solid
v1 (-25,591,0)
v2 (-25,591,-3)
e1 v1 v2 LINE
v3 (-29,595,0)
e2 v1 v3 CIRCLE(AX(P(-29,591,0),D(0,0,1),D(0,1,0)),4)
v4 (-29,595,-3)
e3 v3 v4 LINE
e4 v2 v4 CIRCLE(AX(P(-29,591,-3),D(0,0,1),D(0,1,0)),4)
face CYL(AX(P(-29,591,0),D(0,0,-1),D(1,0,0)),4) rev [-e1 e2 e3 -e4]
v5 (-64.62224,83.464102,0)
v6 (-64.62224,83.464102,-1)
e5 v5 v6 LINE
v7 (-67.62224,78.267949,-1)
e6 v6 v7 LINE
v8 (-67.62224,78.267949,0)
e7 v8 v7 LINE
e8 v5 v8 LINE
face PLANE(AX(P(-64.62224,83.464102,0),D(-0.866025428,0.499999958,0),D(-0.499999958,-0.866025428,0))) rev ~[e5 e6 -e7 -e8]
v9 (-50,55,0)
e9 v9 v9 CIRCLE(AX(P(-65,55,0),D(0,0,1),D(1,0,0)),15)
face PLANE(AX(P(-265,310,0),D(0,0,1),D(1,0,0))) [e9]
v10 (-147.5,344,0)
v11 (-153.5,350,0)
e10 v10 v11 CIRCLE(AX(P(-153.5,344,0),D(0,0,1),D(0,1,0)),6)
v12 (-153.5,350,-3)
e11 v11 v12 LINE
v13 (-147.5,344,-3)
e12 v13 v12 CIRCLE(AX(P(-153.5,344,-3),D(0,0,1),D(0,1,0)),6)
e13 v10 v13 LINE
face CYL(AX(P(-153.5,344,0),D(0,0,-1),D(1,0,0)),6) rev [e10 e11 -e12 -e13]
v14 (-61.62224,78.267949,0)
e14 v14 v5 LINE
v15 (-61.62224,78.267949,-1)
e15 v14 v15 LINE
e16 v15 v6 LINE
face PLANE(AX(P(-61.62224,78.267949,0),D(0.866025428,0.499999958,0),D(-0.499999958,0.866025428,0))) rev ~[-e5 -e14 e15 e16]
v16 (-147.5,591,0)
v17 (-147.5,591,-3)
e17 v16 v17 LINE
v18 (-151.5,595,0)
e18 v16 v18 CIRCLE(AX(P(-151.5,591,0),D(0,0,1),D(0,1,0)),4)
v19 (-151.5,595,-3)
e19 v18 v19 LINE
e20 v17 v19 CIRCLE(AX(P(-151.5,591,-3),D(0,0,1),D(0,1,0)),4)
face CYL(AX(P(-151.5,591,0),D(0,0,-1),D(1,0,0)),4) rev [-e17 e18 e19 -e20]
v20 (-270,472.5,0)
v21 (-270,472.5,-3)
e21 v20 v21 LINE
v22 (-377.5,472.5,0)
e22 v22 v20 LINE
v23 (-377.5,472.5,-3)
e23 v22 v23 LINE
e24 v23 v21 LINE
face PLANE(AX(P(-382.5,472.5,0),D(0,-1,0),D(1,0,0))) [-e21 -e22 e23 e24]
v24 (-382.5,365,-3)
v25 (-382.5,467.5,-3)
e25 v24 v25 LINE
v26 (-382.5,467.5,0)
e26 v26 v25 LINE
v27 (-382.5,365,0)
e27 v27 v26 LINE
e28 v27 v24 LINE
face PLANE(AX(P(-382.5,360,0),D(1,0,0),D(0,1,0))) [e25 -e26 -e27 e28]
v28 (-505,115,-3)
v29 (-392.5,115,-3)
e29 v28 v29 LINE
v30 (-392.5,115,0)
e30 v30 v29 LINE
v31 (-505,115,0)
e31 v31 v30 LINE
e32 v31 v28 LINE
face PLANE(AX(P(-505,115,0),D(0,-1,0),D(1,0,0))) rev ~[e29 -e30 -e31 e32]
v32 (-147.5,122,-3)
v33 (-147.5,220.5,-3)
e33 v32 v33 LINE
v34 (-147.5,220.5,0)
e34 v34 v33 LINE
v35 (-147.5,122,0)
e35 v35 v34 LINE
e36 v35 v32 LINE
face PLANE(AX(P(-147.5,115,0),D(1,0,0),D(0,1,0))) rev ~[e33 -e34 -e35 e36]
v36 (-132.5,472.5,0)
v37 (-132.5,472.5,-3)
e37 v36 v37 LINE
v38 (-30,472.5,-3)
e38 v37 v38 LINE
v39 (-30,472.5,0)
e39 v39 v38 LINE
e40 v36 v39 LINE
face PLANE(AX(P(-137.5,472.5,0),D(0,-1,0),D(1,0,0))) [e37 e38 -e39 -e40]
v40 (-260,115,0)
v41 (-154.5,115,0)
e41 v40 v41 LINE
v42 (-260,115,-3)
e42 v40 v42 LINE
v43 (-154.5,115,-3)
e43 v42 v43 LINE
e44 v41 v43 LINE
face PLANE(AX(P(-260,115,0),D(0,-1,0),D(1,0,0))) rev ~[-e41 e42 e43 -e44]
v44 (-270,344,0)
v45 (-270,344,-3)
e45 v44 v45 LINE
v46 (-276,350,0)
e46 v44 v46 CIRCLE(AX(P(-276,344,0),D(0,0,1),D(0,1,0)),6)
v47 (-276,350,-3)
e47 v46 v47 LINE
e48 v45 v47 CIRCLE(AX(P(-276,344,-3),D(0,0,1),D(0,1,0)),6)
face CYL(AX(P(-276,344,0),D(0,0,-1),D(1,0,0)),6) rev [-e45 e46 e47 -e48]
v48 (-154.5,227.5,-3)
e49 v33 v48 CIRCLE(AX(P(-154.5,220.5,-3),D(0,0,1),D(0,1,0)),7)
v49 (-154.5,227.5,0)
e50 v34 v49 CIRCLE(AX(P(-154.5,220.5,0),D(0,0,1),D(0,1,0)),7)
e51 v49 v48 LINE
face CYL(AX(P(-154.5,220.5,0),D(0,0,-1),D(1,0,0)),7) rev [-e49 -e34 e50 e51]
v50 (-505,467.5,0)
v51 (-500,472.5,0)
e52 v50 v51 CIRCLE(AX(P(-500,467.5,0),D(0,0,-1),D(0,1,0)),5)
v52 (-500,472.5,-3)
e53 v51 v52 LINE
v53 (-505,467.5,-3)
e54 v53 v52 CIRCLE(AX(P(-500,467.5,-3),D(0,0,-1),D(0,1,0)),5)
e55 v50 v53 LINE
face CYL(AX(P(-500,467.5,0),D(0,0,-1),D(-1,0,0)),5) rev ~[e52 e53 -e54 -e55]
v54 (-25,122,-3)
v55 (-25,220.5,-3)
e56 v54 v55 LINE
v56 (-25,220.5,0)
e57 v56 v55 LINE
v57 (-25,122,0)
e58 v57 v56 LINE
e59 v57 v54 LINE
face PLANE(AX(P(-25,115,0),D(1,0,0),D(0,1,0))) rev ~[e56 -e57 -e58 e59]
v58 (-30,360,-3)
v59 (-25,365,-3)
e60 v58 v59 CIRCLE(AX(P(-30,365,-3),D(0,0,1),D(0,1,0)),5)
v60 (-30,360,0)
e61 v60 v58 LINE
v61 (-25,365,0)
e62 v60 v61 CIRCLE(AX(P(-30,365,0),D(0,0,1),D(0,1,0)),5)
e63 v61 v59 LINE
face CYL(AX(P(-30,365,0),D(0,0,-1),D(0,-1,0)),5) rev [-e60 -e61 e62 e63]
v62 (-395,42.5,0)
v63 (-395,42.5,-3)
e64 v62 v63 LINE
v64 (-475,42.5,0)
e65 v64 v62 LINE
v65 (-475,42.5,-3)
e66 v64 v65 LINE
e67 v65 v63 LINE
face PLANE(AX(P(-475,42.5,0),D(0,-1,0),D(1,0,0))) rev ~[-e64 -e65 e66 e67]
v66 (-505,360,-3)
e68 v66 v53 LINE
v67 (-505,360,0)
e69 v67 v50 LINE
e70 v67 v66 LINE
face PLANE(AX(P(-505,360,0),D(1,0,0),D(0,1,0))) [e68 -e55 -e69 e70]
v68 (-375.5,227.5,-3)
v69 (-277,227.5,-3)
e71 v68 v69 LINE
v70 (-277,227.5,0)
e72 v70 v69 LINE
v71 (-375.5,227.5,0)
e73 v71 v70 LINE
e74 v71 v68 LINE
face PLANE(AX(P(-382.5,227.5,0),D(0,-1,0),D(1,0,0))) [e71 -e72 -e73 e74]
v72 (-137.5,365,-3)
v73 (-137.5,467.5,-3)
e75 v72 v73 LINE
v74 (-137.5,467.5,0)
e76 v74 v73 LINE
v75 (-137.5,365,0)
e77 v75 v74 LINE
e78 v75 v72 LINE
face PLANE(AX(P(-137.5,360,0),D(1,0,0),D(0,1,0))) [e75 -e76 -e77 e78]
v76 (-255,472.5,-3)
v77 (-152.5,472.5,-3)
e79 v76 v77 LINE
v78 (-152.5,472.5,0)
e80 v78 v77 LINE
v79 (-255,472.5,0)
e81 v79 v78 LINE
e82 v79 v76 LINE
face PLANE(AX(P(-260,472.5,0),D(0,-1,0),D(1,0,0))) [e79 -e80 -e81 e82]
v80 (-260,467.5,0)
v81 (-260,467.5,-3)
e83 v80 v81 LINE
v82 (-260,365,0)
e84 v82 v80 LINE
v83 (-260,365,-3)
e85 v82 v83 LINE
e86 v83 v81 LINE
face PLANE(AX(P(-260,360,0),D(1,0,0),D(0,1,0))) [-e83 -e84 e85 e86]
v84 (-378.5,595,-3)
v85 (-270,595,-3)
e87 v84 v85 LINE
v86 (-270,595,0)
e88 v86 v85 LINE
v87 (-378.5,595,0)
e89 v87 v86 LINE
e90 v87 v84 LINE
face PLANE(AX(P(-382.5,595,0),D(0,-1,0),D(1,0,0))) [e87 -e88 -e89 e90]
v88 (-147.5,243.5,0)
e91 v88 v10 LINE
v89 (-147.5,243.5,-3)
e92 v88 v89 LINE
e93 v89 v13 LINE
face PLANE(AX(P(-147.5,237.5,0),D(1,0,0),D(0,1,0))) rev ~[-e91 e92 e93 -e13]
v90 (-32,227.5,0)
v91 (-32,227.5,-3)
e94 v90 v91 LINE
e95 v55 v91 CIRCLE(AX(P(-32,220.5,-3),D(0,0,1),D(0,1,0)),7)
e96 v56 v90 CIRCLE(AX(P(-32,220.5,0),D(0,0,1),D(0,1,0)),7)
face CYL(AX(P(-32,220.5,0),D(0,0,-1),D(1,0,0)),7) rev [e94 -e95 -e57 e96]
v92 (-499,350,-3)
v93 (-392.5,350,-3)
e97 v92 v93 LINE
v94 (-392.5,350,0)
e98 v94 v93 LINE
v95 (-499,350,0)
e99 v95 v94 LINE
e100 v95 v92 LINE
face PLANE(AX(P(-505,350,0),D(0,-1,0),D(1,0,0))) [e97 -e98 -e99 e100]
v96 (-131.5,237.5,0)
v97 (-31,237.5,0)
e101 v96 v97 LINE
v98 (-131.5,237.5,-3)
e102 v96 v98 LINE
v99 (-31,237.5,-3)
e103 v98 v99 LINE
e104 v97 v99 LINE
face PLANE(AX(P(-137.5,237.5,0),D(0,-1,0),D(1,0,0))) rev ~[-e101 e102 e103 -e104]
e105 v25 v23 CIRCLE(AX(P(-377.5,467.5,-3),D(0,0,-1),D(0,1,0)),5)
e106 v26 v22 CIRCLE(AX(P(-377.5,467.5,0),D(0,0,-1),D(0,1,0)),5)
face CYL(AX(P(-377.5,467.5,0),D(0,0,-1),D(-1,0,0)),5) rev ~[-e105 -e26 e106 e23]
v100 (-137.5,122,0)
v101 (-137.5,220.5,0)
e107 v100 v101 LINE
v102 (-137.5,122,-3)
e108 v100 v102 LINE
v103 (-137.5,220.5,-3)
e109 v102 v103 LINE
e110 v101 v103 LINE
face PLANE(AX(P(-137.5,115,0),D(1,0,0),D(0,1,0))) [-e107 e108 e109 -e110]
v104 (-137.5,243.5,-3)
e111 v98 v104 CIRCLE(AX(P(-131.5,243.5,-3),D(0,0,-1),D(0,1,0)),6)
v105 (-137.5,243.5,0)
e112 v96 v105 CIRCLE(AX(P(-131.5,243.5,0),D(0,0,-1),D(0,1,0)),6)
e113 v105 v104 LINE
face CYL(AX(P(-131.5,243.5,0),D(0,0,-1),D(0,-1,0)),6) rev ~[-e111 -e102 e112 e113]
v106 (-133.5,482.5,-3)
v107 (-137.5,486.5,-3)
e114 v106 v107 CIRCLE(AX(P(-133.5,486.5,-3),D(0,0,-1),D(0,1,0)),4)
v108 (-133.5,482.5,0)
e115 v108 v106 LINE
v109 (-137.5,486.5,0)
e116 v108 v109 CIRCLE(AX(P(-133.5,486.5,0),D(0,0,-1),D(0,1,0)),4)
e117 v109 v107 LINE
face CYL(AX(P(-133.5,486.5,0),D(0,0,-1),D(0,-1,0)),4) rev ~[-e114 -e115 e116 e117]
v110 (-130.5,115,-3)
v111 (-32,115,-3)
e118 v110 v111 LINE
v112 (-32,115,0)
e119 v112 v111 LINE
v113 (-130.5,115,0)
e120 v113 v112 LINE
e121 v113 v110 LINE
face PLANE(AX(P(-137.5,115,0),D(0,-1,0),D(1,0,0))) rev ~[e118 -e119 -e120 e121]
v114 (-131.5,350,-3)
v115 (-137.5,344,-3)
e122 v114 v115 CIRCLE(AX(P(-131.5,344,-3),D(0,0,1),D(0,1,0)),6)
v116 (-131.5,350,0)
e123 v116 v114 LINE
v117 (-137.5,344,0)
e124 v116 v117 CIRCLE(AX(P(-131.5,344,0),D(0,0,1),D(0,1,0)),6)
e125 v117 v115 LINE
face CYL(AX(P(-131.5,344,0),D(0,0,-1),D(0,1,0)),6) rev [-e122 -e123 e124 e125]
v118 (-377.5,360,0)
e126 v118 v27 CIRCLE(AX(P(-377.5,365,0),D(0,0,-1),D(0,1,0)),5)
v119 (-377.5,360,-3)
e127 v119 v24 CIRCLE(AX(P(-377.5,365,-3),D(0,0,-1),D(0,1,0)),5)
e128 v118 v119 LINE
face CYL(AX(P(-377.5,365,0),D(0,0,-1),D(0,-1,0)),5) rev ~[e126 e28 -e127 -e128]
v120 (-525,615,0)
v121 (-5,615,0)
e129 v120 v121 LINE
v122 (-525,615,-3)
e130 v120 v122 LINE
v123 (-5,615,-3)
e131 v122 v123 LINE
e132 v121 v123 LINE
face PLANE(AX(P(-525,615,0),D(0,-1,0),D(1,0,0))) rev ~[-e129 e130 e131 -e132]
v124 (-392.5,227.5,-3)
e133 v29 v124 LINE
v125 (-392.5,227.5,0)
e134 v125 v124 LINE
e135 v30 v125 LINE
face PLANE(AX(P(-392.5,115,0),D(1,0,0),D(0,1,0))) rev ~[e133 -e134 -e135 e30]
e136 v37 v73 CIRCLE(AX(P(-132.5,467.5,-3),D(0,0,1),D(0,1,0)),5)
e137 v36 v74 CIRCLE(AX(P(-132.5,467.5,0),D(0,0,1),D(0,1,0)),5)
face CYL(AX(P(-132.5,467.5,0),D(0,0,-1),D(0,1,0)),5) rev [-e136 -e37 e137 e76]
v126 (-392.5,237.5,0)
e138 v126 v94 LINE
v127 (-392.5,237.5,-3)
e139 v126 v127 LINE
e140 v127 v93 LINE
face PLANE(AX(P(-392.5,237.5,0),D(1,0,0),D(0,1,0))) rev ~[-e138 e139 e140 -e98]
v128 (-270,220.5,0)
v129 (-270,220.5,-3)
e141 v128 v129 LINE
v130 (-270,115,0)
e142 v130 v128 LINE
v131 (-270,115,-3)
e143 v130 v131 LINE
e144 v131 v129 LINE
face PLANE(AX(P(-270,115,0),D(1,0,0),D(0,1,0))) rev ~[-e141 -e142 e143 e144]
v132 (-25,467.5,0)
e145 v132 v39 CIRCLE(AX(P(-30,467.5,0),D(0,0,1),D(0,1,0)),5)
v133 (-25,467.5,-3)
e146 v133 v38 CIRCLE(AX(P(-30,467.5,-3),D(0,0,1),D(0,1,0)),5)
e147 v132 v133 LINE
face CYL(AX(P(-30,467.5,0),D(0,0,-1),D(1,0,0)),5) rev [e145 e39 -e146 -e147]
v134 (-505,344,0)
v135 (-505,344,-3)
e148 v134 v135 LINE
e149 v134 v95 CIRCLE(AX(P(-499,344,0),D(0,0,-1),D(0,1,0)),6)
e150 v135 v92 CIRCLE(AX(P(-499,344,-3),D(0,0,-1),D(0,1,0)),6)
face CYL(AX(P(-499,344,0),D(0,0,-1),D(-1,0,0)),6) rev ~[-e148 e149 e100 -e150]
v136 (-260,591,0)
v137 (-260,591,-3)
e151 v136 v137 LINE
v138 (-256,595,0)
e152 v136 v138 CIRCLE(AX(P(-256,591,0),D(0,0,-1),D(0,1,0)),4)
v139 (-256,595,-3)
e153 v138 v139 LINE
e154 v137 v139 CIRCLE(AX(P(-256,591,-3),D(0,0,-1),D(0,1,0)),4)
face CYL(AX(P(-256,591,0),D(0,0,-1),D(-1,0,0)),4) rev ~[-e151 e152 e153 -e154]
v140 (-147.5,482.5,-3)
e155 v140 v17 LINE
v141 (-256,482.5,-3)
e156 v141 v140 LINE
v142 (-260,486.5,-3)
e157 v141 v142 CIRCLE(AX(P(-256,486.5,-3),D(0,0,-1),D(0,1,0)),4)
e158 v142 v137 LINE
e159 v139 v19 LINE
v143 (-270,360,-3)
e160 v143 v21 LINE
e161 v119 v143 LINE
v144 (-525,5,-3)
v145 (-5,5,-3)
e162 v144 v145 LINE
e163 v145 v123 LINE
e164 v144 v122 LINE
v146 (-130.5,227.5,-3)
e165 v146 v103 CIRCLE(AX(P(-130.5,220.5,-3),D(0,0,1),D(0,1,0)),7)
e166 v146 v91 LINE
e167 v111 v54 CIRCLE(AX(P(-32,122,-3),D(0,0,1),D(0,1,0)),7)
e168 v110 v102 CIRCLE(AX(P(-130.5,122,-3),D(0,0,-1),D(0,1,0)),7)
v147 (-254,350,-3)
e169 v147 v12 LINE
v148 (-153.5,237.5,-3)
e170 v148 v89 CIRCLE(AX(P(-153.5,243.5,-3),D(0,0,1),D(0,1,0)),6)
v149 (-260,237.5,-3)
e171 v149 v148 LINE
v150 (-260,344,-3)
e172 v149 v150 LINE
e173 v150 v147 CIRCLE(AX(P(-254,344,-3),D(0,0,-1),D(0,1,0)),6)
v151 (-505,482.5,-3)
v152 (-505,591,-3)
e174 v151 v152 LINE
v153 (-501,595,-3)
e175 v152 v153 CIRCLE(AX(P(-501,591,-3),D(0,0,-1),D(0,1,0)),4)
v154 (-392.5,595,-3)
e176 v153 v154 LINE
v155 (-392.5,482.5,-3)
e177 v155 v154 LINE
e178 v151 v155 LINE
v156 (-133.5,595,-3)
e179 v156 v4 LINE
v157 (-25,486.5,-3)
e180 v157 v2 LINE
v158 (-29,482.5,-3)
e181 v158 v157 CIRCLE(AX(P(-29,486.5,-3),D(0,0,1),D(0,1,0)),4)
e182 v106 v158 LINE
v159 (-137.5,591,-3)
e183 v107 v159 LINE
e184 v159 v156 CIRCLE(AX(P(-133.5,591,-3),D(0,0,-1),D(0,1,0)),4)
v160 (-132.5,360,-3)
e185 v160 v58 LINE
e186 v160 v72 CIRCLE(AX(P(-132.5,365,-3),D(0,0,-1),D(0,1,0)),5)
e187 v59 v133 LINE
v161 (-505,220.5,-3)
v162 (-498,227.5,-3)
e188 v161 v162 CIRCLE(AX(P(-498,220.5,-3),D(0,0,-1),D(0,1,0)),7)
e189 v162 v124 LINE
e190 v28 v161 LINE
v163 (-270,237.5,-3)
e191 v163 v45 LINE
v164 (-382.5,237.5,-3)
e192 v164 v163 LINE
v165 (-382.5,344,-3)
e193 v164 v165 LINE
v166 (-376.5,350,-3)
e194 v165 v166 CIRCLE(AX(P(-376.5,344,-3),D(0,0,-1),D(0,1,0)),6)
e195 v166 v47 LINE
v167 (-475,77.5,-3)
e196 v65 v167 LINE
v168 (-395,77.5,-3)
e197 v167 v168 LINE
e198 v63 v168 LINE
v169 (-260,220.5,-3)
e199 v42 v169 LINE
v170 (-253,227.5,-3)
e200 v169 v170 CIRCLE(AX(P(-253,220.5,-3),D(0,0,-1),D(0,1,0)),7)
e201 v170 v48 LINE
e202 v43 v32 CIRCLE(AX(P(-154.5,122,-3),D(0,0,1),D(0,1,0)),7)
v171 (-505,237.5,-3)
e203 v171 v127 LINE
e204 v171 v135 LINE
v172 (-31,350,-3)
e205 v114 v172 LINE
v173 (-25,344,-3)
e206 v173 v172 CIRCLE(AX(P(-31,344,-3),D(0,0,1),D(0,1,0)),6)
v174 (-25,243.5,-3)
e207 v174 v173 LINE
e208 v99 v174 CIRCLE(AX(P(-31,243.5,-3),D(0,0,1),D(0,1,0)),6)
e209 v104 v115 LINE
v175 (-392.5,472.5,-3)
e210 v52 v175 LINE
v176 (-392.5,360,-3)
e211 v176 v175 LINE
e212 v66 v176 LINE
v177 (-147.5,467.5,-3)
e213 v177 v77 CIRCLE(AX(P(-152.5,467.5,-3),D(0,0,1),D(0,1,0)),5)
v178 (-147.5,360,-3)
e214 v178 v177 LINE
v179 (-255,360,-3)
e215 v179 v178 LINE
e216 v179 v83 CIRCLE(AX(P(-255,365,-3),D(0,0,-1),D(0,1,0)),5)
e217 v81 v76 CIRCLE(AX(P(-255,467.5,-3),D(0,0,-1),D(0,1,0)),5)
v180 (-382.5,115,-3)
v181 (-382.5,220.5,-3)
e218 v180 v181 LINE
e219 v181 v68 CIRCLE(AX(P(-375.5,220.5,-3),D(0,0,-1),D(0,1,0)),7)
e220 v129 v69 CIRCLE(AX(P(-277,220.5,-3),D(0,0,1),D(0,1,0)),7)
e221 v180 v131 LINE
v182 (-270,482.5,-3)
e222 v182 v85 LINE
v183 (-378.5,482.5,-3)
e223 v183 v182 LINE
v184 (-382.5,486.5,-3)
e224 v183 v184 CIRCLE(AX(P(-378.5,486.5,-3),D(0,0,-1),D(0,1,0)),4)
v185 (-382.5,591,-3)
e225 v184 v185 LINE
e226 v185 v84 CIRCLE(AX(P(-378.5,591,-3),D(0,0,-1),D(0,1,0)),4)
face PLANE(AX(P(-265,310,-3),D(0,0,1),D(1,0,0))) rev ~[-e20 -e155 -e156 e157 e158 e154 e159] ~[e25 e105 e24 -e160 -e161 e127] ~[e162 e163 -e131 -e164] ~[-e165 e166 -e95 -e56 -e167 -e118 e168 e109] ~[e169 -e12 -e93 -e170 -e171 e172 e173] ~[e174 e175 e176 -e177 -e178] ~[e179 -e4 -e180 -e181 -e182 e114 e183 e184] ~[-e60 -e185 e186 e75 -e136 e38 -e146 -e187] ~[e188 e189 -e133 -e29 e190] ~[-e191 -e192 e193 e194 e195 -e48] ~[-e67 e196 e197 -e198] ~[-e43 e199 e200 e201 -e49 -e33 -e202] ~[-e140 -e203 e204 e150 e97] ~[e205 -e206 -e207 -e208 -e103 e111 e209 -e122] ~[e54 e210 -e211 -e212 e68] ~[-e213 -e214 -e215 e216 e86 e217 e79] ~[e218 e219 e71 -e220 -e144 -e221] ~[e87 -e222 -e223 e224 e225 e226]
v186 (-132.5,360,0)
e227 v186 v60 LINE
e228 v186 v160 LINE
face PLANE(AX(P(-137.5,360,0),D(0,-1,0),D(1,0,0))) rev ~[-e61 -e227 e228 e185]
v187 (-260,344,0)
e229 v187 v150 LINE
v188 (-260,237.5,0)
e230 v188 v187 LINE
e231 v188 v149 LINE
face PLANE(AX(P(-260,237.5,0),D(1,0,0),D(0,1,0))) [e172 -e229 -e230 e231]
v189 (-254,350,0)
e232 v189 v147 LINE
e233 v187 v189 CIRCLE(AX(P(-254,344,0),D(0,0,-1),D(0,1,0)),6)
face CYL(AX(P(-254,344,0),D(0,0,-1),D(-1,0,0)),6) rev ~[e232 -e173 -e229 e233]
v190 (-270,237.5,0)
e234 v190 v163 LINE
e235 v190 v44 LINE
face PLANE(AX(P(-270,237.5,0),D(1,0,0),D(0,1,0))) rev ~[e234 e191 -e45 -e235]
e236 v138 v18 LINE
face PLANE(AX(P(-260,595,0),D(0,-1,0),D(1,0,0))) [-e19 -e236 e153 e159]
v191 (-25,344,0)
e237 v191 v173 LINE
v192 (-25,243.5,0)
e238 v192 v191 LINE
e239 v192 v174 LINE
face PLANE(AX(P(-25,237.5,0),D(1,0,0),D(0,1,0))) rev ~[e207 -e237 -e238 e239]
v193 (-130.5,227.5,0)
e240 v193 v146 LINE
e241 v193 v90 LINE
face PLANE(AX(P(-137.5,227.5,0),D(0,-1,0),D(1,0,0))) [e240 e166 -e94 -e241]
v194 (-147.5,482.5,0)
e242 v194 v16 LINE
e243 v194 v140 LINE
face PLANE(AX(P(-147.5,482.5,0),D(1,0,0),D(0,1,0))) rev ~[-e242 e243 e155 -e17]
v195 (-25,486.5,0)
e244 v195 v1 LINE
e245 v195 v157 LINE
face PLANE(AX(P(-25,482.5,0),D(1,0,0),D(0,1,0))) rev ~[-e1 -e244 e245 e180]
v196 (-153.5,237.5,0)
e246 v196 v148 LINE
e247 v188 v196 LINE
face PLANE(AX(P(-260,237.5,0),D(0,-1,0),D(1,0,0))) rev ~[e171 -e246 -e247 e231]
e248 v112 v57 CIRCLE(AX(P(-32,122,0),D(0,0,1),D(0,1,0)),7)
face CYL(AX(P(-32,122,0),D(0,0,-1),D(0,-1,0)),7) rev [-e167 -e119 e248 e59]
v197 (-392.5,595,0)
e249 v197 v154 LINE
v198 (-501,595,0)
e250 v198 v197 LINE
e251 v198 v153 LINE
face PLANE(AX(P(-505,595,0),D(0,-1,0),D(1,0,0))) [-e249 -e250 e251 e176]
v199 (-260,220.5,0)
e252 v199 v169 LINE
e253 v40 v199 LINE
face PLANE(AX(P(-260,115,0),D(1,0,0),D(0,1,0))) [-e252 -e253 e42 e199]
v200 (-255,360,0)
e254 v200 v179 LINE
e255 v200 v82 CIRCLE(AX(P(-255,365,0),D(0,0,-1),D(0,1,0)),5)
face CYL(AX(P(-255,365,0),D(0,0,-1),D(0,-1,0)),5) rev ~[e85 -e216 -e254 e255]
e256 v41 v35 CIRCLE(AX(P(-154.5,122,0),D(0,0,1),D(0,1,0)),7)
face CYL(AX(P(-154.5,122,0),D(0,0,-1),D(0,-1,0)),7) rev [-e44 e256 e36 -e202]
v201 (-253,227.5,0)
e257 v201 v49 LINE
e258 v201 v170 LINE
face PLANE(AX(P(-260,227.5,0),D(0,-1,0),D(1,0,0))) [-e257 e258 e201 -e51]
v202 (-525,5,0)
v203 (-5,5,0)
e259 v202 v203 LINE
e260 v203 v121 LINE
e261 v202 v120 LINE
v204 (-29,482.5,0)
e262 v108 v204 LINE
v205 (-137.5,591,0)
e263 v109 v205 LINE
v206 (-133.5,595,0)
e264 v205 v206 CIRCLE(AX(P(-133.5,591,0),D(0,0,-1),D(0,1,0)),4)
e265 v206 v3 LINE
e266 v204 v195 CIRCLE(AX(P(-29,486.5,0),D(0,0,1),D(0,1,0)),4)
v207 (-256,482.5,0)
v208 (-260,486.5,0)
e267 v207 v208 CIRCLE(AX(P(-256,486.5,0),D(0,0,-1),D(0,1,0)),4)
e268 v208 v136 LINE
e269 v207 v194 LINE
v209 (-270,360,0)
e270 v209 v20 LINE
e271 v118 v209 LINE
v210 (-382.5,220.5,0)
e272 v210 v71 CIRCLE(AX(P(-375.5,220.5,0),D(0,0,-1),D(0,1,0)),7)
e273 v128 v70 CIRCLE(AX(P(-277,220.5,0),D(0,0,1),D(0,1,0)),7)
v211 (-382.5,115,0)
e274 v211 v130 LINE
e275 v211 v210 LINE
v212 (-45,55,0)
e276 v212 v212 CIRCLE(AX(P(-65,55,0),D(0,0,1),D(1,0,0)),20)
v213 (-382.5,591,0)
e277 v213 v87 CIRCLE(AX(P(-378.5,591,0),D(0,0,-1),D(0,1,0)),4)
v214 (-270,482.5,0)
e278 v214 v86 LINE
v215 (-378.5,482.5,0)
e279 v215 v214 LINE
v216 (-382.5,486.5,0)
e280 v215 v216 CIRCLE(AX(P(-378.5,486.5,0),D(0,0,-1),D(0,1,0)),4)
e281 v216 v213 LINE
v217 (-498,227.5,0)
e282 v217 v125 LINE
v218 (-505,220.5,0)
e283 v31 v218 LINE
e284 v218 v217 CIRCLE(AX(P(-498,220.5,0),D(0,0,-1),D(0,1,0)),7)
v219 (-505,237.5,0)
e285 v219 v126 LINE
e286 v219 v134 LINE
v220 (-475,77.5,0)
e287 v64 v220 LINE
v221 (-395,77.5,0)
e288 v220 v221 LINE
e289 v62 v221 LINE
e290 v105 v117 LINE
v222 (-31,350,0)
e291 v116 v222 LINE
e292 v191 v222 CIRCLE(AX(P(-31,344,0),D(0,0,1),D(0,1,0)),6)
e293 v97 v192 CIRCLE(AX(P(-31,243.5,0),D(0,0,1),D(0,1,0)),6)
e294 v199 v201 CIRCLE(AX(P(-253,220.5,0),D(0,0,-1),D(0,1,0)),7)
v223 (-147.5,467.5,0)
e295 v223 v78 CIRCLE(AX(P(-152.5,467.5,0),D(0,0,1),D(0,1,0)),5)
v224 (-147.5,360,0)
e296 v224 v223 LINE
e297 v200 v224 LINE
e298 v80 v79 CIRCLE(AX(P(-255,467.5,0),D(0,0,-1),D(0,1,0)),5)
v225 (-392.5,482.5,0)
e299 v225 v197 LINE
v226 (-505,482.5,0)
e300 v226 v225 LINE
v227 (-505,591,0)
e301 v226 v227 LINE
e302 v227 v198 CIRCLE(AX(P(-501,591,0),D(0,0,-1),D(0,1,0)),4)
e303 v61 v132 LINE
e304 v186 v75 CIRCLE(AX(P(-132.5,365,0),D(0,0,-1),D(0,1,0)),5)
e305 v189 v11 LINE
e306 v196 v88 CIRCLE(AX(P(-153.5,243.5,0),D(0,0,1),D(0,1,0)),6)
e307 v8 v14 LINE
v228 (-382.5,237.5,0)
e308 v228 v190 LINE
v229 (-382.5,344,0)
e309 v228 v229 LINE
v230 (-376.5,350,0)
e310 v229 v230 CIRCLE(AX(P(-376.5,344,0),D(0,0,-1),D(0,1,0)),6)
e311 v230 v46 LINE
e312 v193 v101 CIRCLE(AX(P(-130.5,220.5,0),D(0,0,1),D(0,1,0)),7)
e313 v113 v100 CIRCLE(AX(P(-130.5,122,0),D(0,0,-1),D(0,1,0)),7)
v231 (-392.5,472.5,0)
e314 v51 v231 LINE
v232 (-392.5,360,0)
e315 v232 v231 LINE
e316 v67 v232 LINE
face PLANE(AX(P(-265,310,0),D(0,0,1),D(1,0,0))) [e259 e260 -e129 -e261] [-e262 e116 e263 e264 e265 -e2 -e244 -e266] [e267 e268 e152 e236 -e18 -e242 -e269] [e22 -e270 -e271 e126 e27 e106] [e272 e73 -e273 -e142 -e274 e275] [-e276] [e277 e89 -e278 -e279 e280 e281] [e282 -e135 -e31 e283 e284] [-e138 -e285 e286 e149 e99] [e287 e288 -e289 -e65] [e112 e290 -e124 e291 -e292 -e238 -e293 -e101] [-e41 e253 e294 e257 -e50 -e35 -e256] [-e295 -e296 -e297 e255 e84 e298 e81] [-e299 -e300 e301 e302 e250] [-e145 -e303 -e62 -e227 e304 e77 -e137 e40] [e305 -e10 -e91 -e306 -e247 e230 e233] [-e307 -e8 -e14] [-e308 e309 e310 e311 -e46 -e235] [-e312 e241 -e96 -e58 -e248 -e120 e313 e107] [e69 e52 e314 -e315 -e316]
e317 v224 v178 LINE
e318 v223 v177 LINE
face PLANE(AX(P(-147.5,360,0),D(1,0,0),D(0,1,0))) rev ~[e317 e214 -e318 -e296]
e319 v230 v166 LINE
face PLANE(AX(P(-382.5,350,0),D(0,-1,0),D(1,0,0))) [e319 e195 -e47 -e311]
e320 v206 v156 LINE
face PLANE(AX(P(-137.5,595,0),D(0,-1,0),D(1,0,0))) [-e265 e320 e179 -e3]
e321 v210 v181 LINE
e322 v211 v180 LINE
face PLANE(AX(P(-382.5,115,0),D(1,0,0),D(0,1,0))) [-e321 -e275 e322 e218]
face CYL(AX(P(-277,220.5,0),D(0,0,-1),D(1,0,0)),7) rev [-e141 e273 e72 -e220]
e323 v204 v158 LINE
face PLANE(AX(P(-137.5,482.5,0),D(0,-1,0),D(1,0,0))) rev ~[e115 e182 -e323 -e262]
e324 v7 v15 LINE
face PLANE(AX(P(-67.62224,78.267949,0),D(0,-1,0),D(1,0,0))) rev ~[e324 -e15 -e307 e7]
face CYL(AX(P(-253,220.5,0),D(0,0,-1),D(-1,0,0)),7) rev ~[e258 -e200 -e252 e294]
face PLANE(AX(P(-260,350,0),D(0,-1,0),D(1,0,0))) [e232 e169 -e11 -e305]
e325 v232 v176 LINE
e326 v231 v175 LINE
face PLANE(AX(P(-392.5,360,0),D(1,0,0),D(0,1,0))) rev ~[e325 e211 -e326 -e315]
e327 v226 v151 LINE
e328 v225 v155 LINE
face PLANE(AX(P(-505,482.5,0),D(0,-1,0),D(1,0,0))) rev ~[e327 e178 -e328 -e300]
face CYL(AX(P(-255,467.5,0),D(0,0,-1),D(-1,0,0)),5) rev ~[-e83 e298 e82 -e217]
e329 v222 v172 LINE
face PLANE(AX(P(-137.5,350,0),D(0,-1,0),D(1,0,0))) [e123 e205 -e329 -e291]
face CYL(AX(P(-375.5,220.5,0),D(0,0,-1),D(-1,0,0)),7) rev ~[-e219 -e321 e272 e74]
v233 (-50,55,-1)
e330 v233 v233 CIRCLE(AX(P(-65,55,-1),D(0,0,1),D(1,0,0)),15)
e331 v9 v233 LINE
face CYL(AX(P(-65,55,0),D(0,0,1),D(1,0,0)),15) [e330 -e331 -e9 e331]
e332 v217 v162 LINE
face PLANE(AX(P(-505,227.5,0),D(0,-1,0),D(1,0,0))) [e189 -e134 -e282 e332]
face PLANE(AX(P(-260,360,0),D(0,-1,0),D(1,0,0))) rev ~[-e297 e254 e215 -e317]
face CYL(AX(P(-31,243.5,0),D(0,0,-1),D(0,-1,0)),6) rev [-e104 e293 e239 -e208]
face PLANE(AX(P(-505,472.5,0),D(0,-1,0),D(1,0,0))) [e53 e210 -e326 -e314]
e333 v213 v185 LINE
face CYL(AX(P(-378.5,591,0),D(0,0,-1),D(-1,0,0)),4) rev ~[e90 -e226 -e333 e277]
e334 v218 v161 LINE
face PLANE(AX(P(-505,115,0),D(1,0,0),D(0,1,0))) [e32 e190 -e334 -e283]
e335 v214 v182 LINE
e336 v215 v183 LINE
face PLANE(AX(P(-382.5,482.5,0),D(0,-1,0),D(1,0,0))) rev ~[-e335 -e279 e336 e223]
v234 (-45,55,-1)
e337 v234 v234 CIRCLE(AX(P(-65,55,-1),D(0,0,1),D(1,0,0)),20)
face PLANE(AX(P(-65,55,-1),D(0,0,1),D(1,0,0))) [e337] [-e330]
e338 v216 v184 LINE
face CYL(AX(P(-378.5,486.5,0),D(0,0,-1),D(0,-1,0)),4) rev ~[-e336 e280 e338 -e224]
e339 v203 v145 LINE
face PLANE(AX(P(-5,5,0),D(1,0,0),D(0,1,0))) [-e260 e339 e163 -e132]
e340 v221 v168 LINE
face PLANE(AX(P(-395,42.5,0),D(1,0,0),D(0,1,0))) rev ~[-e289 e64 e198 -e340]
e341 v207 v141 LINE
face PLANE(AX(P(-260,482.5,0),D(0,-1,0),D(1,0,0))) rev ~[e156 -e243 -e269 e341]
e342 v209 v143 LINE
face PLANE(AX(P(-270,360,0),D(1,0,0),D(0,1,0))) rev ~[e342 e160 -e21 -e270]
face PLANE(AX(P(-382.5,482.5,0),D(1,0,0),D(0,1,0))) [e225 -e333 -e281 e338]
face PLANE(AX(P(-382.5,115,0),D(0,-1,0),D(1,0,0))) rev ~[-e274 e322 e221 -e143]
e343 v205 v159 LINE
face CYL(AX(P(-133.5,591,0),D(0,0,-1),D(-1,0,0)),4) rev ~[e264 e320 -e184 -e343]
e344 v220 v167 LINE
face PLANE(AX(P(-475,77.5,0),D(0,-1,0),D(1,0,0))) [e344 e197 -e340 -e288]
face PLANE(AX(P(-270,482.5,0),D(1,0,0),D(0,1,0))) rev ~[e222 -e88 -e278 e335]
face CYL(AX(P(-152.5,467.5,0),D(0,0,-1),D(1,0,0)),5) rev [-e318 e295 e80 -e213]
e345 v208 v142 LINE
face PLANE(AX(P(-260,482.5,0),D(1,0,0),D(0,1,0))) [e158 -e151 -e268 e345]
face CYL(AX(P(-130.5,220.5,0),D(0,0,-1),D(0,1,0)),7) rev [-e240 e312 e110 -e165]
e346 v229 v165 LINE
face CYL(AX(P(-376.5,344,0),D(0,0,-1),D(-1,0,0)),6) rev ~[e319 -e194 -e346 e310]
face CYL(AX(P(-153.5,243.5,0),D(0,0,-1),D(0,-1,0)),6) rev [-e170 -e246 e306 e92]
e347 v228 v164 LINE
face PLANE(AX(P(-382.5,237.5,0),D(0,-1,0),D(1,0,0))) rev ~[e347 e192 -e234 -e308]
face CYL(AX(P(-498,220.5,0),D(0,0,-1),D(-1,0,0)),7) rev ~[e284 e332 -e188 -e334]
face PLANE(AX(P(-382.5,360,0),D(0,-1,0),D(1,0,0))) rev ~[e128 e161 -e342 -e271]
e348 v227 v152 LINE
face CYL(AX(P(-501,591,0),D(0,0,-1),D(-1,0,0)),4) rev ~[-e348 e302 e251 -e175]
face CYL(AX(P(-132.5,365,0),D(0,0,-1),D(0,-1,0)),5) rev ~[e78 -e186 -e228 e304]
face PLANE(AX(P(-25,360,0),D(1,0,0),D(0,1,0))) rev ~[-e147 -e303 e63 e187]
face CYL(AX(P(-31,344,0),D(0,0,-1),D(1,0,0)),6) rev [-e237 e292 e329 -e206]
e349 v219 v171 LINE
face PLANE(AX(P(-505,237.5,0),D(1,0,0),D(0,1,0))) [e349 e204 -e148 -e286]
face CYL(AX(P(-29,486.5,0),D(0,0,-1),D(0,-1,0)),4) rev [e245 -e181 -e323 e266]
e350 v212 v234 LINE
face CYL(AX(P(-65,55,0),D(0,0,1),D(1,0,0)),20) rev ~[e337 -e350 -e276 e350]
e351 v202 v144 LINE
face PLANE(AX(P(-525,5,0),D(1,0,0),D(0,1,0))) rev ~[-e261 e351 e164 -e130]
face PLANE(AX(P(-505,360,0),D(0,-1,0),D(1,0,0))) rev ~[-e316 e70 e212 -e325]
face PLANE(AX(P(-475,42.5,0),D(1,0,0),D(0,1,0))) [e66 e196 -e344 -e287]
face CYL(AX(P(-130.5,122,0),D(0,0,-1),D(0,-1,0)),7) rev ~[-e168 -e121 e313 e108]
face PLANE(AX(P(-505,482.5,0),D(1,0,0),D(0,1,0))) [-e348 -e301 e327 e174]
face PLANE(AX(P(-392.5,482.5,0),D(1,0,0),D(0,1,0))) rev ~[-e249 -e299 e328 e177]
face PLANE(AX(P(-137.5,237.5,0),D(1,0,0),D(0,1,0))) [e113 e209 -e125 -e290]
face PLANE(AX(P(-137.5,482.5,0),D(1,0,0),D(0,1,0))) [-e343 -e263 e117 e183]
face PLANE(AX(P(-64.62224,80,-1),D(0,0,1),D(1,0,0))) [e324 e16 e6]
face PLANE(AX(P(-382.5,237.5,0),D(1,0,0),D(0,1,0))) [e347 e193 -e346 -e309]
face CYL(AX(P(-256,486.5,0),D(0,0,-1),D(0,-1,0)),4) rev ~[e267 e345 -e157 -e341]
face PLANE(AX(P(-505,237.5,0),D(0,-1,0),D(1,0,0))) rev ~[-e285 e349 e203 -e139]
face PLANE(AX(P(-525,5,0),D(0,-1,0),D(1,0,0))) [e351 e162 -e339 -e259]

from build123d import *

# Parameters (mm, degrees)
SKETCH_W                     = 520
SKETCH_H                     = 610
PAD_DEPTH                    = 3
SKETCH001_W                  = 112.5
SKETCH001_H                  = 112.5
POCKET_DEPTH                 = 5
SKETCH001_LINEARPATTERN_2_W  = 112.5
SKETCH001_LINEARPATTERN_2_H  = 112.5
POCKET_LINEARPATTERN_2_DEPTH = 5
SKETCH001_LINEARPATTERN_3_W  = 112.5
SKETCH001_LINEARPATTERN_3_H  = 112.5
POCKET_LINEARPATTERN_3_DEPTH = 5
SKETCH001_LINEARPATTERN_4_W  = 112.5
SKETCH001_LINEARPATTERN_4_H  = 112.5
POCKET_LINEARPATTERN_4_DEPTH = 5
LINEARPATTERN001_COUNT       = 4
LINEARPATTERN001_PITCH       = 122.5
FILLET_R                     = 4
FILLET001_R                  = 5
FILLET002_R                  = 6
FILLET003_R                  = 7
SKETCH002_R                  = 20
SKETCH002_R_2                = 15
POCKET001_DEPTH              = 1
SKETCH003_W                  = 80
SKETCH003_H                  = 35
POCKET002_DEPTH              = 5


with BuildPart() as part:
    # Sketch → Pad (new body)
    with BuildSketch(Plane.XY):
        with Locations((0, -45)):
            Rectangle(SKETCH_W, SKETCH_H)
    extrude(amount=-PAD_DEPTH)

    # Sketch001 (on Face5 of Pad) → Pocket (cut)
    with BuildSketch(Plane.XY):
        with Locations((-183.75, 183.75)):
            Rectangle(SKETCH001_W, SKETCH001_H)
    pocket = extrude(amount=-POCKET_DEPTH, mode=Mode.SUBTRACT)

    # Sketch001 LinearPattern 2 → Pocket LinearPattern 2 (cut)
    with BuildSketch(Plane(origin=(122.5, 0, 0), x_dir=(1, 0, 0), z_dir=(0, 0, 1))):
        with Locations((-183.75, 183.75)):
            Rectangle(SKETCH001_LINEARPATTERN_2_W, SKETCH001_LINEARPATTERN_2_H)
    pocket_linearpattern_2 = extrude(amount=-POCKET_LINEARPATTERN_2_DEPTH, mode=Mode.SUBTRACT)

    # Sketch001 LinearPattern 3 → Pocket LinearPattern 3 (cut)
    with BuildSketch(Plane(origin=(245, 0, 0), x_dir=(1, 0, 0), z_dir=(0, 0, 1))):
        with Locations((-183.75, 183.75)):
            Rectangle(SKETCH001_LINEARPATTERN_3_W, SKETCH001_LINEARPATTERN_3_H)
    pocket_linearpattern_3 = extrude(amount=-POCKET_LINEARPATTERN_3_DEPTH, mode=Mode.SUBTRACT)

    # Sketch001 LinearPattern 4 → Pocket LinearPattern 4 (cut)
    with BuildSketch(Plane(origin=(367.5, 0, 0), x_dir=(1, 0, 0), z_dir=(0, 0, 1))):
        with Locations((-183.75, 183.75)):
            Rectangle(SKETCH001_LINEARPATTERN_4_W, SKETCH001_LINEARPATTERN_4_H)
    pocket_linearpattern_4 = extrude(amount=-POCKET_LINEARPATTERN_4_DEPTH, mode=Mode.SUBTRACT)

    # LinearPattern001: Pocket, Pocket LinearPattern 2, Pocket LinearPattern 3, Pocket LinearPattern 4 ×4
    with Locations(*[(0, -i * LINEARPATTERN001_PITCH, 0) for i in range(1, LINEARPATTERN001_COUNT)]):
        add(pocket, mode=Mode.SUBTRACT)
        add(pocket_linearpattern_2, mode=Mode.SUBTRACT)
        add(pocket_linearpattern_3, mode=Mode.SUBTRACT)
        add(pocket_linearpattern_4, mode=Mode.SUBTRACT)

    # Fillet
    fillet_edges = [part.edges().sort_by_distance(p)[0] for p in [
        (-240, 240, -1.5),
        (-117.5, 240, -1.5),
        (-117.5, 127.5, -1.5),
        (5, 240, -1.5),
        (117.5, 240, -1.5),
        (5, 127.5, -1.5),
        (127.5, 127.5, -1.5),
        (127.5, 240, -1.5),
        (240, 240, -1.5),
        (240, 127.5, -1.5),
    ]]
    fillet(fillet_edges, radius=FILLET_R)

    # Fillet001
    fillet001_edges = [part.edges().sort_by_distance(p)[0] for p in [
        (-240, 117.5, -1.5),
        (-117.5, 117.5, -1.5),
        (5, 117.5, -1.5),
        (127.5, 117.5, -1.5),
        (240, 117.5, -1.5),
        (240, 5, -1.5),
        (127.5, 5, -1.5),
        (117.5, 117.5, -1.5),
        (5, 5, -1.5),
        (-117.5, 5, -1.5),
    ]]
    fillet(fillet001_edges, radius=FILLET001_R)

    # Fillet002
    fillet002_edges = [part.edges().sort_by_distance(p)[0] for p in [
        (-240, -5, -1.5),
        (-117.5, -5, -1.5),
        (5, -5, -1.5),
        (127.5, -5, -1.5),
        (240, -5, -1.5),
        (240, -117.5, -1.5),
        (127.5, -117.5, -1.5),
        (117.5, -5, -1.5),
        (117.5, -117.5, -1.5),
        (-5, -5, -1.5),
    ]]
    fillet(fillet002_edges, radius=FILLET002_R)

    # Fillet003
    fillet003_edges = [part.edges().sort_by_distance(p)[0] for p in [
        (-240, -127.5, -1.5),
        (-117.5, -127.5, -1.5),
        (5, -127.5, -1.5),
        (127.5, -127.5, -1.5),
        (240, -127.5, -1.5),
        (240, -240, -1.5),
        (127.5, -240, -1.5),
        (117.5, -127.5, -1.5),
        (117.5, -240, -1.5),
        (-5, -127.5, -1.5),
    ]]
    fillet(fillet003_edges, radius=FILLET003_R)

    # Sketch002 (on Face1 of Fillet003) → Pocket001 (cut)
    with BuildSketch(Plane.XY):
        with Locations((200, -300)):
            Circle(SKETCH002_R)
        with Locations((200, -300)):
            Circle(SKETCH002_R_2, mode=Mode.SUBTRACT)
        Polygon((200.37776, -271.535898), (197.37776, -276.732051), (203.37776, -276.732051), align=None)
    extrude(amount=-POCKET001_DEPTH, mode=Mode.SUBTRACT)

    # Sketch003 (on Face1 of Pocket001) → Pocket002 (cut)
    with BuildSketch(Plane.XY):
        with Locations((-170, -295)):
            Rectangle(SKETCH003_W, SKETCH003_H)
    extrude(amount=-POCKET002_DEPTH, mode=Mode.SUBTRACT)


with BuildPart() as part_1:
    # Clone001 placement: moved
    add(part.part.moved(Location((-265, 355, 0))))


solid = part_1.part
